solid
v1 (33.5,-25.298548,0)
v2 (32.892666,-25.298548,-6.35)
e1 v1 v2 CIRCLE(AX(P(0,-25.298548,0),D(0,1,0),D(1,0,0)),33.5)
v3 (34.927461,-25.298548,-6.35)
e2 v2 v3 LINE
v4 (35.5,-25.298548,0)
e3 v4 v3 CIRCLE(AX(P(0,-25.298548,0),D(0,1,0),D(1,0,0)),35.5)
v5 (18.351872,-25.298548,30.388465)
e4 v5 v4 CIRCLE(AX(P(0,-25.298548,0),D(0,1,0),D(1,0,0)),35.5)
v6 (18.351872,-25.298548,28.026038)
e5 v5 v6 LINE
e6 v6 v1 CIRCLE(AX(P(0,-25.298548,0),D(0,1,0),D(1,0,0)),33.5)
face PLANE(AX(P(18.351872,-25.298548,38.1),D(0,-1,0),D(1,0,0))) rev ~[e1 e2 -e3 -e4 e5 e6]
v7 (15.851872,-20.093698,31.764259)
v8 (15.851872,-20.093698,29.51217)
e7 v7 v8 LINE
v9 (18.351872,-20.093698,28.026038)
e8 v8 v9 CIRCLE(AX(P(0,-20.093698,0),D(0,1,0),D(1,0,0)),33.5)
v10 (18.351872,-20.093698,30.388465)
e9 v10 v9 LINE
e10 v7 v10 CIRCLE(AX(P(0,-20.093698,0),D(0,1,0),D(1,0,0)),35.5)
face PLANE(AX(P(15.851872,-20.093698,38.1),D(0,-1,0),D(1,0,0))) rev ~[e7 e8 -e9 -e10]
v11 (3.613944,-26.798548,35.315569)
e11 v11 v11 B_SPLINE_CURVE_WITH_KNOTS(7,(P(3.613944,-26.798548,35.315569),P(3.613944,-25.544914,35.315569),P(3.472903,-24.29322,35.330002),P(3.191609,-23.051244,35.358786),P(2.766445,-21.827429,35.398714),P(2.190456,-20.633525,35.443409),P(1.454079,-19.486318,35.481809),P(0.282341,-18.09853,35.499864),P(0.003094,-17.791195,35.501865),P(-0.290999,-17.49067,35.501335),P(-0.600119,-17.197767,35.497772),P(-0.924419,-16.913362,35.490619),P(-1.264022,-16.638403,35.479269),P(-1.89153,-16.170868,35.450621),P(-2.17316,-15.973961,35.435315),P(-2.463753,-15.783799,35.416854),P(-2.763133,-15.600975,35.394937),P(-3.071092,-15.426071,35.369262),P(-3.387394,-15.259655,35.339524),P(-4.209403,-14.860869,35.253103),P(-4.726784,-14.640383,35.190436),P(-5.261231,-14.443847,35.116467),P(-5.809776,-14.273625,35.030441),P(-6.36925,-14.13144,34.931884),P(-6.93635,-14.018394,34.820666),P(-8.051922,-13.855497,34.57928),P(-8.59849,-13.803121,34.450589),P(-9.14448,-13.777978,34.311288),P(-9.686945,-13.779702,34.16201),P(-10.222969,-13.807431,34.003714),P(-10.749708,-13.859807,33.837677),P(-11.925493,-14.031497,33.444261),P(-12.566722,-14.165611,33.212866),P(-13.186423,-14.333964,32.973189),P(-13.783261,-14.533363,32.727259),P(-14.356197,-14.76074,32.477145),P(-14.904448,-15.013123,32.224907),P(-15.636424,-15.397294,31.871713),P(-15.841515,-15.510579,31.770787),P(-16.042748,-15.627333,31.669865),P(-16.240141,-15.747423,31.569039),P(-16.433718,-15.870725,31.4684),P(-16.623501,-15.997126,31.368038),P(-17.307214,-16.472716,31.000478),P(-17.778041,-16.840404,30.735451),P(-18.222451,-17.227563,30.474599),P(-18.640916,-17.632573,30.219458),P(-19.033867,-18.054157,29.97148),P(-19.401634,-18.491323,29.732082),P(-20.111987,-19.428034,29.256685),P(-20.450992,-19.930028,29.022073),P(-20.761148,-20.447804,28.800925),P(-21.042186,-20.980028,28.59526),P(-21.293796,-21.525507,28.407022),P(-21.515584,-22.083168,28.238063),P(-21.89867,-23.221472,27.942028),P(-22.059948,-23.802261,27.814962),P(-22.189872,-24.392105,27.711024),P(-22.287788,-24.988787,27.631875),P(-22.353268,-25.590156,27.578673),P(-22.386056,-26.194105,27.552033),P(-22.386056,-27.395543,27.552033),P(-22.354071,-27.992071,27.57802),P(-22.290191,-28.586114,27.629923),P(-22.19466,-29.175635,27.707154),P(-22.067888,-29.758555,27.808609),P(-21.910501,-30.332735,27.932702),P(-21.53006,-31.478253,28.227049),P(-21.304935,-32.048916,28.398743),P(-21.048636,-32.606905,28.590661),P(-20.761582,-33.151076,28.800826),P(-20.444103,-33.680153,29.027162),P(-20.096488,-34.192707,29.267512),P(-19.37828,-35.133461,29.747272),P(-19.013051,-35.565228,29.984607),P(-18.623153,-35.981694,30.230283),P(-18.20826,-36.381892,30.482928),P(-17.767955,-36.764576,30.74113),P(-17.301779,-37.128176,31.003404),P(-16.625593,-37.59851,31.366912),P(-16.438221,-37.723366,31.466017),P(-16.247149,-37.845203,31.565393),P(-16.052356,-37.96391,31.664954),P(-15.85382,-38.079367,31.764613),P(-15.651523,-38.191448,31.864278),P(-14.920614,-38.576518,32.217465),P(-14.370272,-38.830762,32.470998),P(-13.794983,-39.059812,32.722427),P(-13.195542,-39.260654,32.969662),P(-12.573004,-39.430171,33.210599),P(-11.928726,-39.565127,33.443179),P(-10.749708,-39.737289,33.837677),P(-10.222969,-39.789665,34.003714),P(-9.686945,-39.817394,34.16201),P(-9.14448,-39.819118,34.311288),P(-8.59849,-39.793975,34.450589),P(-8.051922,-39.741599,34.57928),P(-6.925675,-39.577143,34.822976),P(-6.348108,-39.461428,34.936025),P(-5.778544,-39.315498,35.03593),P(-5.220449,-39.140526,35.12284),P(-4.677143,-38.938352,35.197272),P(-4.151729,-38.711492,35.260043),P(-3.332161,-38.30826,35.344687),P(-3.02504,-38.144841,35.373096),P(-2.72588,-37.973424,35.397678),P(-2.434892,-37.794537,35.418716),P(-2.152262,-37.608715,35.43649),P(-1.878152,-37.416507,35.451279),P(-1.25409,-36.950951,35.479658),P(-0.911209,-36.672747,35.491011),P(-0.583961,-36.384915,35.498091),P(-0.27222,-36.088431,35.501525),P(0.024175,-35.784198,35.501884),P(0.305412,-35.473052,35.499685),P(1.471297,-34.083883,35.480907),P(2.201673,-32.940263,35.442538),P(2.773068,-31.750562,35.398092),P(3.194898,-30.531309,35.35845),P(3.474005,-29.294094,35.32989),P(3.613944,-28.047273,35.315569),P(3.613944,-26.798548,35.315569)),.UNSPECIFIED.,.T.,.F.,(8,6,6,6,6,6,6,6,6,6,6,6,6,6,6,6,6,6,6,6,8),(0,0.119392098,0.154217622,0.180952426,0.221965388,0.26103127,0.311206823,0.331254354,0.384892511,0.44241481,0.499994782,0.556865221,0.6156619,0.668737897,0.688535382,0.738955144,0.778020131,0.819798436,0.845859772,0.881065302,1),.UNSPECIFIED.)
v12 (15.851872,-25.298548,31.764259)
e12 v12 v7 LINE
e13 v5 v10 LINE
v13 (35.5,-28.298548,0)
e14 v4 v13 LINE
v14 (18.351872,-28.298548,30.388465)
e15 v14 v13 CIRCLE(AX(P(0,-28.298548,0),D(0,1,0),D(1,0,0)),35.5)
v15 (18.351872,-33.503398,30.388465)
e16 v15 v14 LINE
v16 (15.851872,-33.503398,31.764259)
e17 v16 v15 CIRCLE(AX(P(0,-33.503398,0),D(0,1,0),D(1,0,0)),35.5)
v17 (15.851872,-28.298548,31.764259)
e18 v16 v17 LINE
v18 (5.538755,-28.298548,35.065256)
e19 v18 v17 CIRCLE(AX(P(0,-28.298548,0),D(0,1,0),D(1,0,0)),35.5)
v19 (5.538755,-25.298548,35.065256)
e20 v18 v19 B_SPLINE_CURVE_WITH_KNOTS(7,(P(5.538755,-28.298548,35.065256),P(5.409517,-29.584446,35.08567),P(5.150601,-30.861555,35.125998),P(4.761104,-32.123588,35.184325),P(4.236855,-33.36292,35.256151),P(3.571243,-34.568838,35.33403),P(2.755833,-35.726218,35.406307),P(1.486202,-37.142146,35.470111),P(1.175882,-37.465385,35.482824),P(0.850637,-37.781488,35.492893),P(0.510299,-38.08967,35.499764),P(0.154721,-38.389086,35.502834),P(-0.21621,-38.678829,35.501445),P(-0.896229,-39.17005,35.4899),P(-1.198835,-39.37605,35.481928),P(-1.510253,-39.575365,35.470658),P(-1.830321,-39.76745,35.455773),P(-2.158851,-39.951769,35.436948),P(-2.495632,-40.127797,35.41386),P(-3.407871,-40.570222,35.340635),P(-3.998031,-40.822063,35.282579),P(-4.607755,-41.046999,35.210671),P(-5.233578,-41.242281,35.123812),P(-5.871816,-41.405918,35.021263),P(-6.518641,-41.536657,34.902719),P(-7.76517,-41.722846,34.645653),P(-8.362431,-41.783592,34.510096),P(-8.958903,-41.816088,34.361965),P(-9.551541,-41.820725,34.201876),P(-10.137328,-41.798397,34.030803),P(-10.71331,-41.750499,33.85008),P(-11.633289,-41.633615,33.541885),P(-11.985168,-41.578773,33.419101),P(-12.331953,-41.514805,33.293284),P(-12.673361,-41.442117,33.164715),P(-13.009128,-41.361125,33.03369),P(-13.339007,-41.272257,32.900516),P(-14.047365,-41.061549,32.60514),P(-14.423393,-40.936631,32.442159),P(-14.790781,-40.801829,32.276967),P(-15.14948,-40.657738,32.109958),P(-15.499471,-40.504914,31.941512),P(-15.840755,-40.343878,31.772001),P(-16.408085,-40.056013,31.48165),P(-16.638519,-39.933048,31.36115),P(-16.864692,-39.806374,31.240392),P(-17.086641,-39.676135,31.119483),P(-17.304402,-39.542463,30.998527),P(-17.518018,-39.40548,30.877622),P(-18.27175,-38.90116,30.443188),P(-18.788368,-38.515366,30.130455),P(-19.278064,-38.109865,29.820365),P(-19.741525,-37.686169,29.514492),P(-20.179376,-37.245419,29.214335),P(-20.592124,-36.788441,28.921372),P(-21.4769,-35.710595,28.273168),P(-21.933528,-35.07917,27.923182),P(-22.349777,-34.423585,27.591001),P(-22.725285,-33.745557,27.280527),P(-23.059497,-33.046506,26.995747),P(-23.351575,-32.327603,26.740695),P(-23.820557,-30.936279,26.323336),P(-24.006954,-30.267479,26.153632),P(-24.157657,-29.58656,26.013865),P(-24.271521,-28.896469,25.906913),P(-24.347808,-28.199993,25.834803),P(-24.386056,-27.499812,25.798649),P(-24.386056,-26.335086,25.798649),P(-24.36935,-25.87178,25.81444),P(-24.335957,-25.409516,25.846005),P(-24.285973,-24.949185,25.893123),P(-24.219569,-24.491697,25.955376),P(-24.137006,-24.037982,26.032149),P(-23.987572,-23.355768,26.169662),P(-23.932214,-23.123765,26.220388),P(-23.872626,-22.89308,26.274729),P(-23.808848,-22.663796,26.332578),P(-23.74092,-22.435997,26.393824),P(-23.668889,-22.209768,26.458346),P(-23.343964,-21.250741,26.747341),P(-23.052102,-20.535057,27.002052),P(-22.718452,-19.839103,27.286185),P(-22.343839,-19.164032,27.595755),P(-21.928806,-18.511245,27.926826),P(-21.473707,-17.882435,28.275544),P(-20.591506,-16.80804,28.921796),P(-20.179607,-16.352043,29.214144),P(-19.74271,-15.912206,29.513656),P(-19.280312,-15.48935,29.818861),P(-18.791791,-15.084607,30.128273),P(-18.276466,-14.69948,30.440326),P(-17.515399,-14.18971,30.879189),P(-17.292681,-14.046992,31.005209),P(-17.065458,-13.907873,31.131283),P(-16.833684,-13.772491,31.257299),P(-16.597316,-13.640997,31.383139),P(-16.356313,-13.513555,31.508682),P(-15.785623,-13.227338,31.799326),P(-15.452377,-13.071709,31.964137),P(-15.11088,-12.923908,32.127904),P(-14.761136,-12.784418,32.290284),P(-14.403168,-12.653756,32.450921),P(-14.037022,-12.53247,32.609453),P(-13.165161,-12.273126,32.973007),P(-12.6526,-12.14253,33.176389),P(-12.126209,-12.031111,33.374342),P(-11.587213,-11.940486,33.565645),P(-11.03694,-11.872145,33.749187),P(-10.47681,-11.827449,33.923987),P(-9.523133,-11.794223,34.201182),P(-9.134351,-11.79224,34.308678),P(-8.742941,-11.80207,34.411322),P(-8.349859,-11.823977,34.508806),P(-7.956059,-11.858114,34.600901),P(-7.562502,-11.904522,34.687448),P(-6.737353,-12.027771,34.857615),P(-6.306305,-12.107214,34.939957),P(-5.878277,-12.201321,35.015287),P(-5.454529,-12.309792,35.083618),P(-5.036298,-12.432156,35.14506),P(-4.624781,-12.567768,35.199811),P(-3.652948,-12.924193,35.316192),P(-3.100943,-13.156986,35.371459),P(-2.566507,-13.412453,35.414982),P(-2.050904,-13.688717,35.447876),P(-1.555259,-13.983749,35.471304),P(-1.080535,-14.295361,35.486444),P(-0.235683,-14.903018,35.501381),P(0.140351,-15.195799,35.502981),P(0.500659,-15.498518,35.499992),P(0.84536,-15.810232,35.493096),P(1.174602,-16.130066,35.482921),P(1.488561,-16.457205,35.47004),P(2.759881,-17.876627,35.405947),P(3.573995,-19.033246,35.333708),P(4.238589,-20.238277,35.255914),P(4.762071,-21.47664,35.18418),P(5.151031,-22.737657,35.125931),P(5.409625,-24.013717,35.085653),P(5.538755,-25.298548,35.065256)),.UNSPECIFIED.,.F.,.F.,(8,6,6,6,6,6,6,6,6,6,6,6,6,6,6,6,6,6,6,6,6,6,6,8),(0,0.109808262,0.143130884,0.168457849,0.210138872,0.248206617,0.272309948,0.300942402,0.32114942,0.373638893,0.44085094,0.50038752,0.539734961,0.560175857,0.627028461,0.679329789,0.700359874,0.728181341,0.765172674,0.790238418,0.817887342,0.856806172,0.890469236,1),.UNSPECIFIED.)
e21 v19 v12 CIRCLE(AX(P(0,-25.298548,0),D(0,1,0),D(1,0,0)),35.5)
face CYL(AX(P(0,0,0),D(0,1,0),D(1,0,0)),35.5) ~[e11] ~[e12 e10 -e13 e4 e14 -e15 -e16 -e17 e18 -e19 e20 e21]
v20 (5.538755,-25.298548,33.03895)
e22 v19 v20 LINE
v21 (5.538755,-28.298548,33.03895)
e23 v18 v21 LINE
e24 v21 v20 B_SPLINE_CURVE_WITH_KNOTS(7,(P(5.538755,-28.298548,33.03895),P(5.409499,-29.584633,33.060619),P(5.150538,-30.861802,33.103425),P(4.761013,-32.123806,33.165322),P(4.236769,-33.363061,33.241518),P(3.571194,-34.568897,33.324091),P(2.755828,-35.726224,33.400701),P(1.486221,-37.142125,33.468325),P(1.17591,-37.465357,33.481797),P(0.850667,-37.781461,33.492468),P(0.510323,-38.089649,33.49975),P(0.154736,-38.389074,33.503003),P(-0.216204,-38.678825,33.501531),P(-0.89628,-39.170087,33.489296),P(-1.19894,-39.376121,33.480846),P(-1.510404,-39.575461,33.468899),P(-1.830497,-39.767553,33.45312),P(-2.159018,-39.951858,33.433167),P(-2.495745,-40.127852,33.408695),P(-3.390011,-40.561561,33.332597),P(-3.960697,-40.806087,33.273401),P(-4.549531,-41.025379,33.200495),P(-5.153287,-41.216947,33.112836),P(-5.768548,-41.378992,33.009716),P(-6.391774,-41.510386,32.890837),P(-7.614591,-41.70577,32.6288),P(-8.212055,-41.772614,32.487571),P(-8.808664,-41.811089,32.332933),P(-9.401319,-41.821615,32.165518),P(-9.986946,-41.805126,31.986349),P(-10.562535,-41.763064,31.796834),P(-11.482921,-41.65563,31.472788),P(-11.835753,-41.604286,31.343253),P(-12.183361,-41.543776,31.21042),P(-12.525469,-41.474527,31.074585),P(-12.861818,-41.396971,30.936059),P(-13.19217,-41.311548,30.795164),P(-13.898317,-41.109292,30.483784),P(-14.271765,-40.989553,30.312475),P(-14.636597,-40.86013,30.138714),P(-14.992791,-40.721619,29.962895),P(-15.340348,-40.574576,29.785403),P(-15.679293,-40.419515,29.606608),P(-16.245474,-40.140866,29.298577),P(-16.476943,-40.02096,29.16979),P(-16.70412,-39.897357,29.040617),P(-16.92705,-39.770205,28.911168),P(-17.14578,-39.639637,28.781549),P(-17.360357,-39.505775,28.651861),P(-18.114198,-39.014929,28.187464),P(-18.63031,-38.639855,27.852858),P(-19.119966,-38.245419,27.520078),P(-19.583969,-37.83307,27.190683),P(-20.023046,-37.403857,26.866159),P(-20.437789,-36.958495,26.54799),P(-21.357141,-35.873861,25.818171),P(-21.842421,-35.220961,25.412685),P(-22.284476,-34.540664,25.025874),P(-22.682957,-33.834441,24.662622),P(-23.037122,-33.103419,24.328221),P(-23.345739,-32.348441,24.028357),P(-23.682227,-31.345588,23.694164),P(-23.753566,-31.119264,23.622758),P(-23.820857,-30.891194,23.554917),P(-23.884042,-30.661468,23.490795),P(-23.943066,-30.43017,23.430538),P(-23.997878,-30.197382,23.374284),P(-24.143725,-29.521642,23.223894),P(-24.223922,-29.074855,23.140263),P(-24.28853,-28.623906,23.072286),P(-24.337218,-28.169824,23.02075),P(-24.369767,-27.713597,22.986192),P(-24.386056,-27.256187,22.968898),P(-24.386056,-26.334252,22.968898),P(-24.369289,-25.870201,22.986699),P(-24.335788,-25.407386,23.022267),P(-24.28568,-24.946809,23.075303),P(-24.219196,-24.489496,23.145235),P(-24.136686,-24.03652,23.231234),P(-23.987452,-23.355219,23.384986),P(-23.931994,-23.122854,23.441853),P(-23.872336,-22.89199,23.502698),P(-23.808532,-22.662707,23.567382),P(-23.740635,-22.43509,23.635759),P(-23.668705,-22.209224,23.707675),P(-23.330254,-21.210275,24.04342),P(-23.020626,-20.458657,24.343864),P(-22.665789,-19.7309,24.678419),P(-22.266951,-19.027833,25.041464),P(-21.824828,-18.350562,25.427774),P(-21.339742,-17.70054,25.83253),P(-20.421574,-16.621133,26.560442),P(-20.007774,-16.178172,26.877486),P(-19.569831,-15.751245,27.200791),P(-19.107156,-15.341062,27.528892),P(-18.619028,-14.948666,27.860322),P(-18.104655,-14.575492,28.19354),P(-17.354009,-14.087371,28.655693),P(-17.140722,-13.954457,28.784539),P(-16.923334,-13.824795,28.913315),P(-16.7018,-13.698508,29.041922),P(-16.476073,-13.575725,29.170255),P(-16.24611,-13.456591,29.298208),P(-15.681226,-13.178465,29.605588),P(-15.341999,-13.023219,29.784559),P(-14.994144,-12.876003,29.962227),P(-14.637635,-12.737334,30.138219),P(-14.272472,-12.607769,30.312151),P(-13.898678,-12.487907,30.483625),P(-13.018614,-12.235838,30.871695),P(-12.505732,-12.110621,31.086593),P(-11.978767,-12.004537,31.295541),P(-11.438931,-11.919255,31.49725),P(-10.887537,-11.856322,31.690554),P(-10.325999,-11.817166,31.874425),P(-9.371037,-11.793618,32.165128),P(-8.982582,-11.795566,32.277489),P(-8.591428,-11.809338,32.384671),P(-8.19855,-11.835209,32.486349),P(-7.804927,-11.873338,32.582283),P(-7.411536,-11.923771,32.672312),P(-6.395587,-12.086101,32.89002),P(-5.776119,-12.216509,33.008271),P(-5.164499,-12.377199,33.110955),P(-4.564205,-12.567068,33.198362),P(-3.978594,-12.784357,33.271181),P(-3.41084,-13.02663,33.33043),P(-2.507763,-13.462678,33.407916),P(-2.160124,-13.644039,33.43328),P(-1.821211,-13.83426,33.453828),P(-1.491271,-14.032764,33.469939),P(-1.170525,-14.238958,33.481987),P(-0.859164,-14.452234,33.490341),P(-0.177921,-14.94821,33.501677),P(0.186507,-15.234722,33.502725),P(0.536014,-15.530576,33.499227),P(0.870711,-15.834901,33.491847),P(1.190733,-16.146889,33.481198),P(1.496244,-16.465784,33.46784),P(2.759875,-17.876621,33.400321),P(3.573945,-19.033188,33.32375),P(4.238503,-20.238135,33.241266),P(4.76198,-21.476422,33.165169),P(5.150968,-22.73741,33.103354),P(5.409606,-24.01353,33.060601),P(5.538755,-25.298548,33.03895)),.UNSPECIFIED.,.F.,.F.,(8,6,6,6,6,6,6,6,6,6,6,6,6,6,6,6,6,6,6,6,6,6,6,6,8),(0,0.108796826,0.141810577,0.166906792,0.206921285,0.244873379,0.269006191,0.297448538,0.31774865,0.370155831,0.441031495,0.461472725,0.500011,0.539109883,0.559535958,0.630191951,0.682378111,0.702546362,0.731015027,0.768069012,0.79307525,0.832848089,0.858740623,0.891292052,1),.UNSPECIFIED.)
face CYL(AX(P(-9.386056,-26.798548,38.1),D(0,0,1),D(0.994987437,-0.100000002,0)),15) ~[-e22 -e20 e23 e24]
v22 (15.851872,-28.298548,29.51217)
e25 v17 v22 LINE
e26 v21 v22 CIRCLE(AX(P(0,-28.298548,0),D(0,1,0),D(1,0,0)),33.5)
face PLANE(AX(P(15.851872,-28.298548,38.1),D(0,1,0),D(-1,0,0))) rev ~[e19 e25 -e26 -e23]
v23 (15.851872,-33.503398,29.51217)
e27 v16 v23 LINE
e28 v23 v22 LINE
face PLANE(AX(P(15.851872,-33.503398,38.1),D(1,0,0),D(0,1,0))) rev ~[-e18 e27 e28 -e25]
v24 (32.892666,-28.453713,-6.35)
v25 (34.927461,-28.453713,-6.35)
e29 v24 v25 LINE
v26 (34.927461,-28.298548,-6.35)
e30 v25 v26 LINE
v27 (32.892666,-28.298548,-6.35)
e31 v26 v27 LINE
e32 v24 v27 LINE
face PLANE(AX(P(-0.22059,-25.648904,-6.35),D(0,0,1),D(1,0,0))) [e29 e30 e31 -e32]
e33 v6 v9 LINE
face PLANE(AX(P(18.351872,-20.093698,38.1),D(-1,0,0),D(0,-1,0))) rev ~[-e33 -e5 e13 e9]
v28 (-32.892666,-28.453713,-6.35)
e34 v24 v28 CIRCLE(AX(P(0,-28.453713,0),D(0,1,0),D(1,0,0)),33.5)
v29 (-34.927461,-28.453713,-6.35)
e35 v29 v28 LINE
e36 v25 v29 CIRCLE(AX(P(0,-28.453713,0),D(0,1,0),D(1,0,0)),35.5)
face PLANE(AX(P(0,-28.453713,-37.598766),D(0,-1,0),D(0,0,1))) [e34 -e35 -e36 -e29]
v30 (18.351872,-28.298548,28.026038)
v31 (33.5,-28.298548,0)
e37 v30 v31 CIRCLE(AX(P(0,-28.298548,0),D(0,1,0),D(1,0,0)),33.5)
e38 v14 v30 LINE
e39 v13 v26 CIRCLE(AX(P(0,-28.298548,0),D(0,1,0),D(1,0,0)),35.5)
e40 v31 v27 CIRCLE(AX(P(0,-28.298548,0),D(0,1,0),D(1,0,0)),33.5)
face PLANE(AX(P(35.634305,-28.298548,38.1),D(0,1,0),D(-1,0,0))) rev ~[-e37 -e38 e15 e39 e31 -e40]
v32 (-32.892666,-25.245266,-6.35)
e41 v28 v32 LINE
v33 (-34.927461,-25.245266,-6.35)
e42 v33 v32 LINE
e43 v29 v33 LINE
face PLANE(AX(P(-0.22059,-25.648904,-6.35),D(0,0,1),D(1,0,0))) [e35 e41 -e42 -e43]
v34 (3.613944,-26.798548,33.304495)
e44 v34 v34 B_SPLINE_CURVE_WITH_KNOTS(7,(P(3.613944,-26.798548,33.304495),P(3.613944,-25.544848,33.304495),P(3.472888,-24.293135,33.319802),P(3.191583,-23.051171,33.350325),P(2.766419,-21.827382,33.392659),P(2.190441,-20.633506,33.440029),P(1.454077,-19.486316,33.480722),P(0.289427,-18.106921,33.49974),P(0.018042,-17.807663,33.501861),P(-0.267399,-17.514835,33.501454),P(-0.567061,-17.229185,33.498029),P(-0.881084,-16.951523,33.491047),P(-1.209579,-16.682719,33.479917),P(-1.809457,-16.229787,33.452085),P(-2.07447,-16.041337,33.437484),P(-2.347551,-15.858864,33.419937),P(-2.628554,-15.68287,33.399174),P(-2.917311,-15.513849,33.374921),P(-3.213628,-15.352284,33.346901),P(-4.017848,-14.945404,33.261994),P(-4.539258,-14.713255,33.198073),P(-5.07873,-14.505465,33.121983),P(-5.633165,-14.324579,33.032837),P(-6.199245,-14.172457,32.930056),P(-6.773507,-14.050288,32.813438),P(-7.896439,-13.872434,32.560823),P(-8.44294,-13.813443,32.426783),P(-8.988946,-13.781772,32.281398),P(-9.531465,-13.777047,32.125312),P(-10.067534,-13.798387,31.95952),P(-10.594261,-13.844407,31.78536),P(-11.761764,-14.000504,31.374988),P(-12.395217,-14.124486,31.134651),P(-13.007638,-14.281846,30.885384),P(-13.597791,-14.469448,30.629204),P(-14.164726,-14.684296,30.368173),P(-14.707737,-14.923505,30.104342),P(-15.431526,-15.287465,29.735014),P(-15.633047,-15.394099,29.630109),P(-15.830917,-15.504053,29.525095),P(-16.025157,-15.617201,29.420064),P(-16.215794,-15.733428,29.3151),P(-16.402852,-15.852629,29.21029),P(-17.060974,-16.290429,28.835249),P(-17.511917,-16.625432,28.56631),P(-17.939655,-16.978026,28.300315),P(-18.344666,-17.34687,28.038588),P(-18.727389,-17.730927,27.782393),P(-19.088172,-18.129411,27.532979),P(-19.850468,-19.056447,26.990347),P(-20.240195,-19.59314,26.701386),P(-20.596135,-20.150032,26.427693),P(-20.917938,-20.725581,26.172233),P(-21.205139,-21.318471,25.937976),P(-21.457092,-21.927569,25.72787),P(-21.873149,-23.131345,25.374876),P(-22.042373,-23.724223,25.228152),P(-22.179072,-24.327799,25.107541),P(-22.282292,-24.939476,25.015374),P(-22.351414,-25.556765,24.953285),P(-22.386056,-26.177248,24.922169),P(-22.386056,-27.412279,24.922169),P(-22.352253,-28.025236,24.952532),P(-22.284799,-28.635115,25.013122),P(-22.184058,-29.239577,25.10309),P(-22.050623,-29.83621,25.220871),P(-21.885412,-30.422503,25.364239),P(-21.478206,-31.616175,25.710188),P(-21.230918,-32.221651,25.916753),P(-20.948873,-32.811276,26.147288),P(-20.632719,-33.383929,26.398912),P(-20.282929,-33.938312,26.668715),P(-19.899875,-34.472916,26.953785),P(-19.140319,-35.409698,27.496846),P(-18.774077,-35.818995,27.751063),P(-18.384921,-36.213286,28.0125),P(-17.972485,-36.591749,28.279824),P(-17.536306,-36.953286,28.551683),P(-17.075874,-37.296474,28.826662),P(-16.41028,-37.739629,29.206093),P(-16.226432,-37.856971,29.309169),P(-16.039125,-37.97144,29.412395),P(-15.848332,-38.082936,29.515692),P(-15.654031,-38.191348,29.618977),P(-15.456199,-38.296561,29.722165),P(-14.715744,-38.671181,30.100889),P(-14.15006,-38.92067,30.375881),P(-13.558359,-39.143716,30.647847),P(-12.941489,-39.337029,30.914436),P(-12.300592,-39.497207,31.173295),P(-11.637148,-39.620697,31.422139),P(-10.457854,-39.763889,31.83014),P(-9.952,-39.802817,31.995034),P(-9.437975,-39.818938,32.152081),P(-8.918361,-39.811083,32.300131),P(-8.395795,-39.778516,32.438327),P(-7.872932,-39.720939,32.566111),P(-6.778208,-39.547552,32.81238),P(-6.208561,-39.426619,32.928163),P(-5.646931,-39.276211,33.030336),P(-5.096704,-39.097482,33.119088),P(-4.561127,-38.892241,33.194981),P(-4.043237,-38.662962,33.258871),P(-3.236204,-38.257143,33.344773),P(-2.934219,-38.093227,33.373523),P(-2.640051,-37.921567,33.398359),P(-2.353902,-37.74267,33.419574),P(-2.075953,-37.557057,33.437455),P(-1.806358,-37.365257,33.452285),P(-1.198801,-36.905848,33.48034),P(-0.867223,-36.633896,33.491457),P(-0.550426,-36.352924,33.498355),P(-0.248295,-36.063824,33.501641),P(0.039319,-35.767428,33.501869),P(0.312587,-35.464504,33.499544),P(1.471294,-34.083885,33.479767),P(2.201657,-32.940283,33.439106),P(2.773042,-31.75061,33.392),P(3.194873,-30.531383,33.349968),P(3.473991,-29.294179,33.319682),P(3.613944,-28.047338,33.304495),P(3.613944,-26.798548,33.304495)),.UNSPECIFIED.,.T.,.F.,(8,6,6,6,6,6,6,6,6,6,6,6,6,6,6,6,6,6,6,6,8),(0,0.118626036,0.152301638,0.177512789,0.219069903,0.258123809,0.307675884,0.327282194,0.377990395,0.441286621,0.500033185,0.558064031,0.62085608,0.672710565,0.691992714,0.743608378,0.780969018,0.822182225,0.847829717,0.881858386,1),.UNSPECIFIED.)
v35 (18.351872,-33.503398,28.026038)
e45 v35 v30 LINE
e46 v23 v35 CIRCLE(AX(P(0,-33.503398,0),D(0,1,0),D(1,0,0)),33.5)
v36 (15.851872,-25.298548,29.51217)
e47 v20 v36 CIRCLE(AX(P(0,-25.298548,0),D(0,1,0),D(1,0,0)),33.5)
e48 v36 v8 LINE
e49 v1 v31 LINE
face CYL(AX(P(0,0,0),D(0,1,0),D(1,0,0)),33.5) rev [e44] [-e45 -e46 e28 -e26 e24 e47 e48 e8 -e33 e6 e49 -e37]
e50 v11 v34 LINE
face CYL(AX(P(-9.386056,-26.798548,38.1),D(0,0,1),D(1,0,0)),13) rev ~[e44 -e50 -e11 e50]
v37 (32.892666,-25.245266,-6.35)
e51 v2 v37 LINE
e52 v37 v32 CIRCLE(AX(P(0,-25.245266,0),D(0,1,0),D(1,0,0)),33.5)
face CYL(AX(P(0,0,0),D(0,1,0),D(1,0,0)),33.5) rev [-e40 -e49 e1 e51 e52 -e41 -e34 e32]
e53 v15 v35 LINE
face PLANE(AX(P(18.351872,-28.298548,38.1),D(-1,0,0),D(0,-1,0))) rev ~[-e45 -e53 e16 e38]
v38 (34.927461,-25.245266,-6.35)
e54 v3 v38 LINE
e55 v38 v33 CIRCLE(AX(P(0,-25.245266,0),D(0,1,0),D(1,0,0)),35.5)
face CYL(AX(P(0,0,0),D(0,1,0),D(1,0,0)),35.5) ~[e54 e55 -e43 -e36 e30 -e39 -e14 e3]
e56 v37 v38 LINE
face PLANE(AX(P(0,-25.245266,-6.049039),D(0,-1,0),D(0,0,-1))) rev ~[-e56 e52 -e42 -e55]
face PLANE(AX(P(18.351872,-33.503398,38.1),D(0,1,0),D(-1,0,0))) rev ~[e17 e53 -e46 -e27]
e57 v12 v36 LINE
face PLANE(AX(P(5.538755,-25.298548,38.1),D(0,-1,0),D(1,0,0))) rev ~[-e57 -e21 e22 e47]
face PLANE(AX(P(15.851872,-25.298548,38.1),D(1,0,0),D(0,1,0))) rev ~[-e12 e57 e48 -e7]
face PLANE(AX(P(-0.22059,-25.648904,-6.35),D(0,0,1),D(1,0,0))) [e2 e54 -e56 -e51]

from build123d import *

# Parameters (mm, degrees)
F0_R     = 35.5
F0_R_2   = 33.5
F1_DEPTH = 50.8
F3_R     = 13
F4_DEPTH = 44.45
F6_DEPTH = 38.1


with BuildPart() as f1:
    # F0 (on Front) → F1 (new body)
    with BuildSketch(Plane.XZ):
        Circle(F0_R)
        Circle(F0_R_2, mode=Mode.SUBTRACT)
    extrude(amount=F1_DEPTH)

    # F3 (on offset) → F4 (cut)
    with BuildSketch(Plane.XY.offset(38.1)):
        with BuildLine():
            ThreePointArc((5.538755, -28.298548), (-24.386056, -26.798548), (5.538755, -25.298548))
            Line((5.538755, -25.298548), (15.851872, -25.298548))
            Line((15.851872, -25.298548), (15.851872, -20.093698))
            Line((15.851872, -20.093698), (18.351872, -20.093698))
            Line((18.351872, -20.093698), (18.351872, -25.298548))
            Line((18.351872, -25.298548), (35.634305, -25.298548))
            Line((35.634305, -25.298548), (35.634305, 3.781537))
            Line((35.634305, 3.781537), (-42.059839, 3.781537))
            Line((-42.059839, 3.781537), (-40.54736, -55.053797))
            Line((-40.54736, -55.053797), (35.634305, -53.095396))
            Line((35.634305, -53.095396), (35.634305, -28.298548))
            Line((35.634305, -28.298548), (18.351872, -28.298548))
            Line((18.351872, -28.298548), (18.351872, -33.503398))
            Line((18.351872, -33.503398), (15.851872, -33.503398))
            Line((15.851872, -33.503398), (15.851872, -28.298548))
            Line((15.851872, -28.298548), (5.538755, -28.298548))
        make_face()
        with Locations((-9.386056, -26.798548)):
            Circle(F3_R)
    extrude(amount=-F4_DEPTH, mode=Mode.SUBTRACT)

    # F5 (on Right) → F6 (cut, symmetric)
    with BuildSketch(Plane.YZ):
        Polygon((-28.453713, -37.598766), (-28.453713, -6.049039), (-52.303165, -5.728194), (-52.303165, -37.598766), align=None)
        Polygon((4.118928, -6.049039), (-25.245266, -6.049039), (-25.245266, -37.270404), (5.401779, -37.682697), align=None)
    extrude(amount=F6_DEPTH, both=True, mode=Mode.SUBTRACT)


solid = f1.part
